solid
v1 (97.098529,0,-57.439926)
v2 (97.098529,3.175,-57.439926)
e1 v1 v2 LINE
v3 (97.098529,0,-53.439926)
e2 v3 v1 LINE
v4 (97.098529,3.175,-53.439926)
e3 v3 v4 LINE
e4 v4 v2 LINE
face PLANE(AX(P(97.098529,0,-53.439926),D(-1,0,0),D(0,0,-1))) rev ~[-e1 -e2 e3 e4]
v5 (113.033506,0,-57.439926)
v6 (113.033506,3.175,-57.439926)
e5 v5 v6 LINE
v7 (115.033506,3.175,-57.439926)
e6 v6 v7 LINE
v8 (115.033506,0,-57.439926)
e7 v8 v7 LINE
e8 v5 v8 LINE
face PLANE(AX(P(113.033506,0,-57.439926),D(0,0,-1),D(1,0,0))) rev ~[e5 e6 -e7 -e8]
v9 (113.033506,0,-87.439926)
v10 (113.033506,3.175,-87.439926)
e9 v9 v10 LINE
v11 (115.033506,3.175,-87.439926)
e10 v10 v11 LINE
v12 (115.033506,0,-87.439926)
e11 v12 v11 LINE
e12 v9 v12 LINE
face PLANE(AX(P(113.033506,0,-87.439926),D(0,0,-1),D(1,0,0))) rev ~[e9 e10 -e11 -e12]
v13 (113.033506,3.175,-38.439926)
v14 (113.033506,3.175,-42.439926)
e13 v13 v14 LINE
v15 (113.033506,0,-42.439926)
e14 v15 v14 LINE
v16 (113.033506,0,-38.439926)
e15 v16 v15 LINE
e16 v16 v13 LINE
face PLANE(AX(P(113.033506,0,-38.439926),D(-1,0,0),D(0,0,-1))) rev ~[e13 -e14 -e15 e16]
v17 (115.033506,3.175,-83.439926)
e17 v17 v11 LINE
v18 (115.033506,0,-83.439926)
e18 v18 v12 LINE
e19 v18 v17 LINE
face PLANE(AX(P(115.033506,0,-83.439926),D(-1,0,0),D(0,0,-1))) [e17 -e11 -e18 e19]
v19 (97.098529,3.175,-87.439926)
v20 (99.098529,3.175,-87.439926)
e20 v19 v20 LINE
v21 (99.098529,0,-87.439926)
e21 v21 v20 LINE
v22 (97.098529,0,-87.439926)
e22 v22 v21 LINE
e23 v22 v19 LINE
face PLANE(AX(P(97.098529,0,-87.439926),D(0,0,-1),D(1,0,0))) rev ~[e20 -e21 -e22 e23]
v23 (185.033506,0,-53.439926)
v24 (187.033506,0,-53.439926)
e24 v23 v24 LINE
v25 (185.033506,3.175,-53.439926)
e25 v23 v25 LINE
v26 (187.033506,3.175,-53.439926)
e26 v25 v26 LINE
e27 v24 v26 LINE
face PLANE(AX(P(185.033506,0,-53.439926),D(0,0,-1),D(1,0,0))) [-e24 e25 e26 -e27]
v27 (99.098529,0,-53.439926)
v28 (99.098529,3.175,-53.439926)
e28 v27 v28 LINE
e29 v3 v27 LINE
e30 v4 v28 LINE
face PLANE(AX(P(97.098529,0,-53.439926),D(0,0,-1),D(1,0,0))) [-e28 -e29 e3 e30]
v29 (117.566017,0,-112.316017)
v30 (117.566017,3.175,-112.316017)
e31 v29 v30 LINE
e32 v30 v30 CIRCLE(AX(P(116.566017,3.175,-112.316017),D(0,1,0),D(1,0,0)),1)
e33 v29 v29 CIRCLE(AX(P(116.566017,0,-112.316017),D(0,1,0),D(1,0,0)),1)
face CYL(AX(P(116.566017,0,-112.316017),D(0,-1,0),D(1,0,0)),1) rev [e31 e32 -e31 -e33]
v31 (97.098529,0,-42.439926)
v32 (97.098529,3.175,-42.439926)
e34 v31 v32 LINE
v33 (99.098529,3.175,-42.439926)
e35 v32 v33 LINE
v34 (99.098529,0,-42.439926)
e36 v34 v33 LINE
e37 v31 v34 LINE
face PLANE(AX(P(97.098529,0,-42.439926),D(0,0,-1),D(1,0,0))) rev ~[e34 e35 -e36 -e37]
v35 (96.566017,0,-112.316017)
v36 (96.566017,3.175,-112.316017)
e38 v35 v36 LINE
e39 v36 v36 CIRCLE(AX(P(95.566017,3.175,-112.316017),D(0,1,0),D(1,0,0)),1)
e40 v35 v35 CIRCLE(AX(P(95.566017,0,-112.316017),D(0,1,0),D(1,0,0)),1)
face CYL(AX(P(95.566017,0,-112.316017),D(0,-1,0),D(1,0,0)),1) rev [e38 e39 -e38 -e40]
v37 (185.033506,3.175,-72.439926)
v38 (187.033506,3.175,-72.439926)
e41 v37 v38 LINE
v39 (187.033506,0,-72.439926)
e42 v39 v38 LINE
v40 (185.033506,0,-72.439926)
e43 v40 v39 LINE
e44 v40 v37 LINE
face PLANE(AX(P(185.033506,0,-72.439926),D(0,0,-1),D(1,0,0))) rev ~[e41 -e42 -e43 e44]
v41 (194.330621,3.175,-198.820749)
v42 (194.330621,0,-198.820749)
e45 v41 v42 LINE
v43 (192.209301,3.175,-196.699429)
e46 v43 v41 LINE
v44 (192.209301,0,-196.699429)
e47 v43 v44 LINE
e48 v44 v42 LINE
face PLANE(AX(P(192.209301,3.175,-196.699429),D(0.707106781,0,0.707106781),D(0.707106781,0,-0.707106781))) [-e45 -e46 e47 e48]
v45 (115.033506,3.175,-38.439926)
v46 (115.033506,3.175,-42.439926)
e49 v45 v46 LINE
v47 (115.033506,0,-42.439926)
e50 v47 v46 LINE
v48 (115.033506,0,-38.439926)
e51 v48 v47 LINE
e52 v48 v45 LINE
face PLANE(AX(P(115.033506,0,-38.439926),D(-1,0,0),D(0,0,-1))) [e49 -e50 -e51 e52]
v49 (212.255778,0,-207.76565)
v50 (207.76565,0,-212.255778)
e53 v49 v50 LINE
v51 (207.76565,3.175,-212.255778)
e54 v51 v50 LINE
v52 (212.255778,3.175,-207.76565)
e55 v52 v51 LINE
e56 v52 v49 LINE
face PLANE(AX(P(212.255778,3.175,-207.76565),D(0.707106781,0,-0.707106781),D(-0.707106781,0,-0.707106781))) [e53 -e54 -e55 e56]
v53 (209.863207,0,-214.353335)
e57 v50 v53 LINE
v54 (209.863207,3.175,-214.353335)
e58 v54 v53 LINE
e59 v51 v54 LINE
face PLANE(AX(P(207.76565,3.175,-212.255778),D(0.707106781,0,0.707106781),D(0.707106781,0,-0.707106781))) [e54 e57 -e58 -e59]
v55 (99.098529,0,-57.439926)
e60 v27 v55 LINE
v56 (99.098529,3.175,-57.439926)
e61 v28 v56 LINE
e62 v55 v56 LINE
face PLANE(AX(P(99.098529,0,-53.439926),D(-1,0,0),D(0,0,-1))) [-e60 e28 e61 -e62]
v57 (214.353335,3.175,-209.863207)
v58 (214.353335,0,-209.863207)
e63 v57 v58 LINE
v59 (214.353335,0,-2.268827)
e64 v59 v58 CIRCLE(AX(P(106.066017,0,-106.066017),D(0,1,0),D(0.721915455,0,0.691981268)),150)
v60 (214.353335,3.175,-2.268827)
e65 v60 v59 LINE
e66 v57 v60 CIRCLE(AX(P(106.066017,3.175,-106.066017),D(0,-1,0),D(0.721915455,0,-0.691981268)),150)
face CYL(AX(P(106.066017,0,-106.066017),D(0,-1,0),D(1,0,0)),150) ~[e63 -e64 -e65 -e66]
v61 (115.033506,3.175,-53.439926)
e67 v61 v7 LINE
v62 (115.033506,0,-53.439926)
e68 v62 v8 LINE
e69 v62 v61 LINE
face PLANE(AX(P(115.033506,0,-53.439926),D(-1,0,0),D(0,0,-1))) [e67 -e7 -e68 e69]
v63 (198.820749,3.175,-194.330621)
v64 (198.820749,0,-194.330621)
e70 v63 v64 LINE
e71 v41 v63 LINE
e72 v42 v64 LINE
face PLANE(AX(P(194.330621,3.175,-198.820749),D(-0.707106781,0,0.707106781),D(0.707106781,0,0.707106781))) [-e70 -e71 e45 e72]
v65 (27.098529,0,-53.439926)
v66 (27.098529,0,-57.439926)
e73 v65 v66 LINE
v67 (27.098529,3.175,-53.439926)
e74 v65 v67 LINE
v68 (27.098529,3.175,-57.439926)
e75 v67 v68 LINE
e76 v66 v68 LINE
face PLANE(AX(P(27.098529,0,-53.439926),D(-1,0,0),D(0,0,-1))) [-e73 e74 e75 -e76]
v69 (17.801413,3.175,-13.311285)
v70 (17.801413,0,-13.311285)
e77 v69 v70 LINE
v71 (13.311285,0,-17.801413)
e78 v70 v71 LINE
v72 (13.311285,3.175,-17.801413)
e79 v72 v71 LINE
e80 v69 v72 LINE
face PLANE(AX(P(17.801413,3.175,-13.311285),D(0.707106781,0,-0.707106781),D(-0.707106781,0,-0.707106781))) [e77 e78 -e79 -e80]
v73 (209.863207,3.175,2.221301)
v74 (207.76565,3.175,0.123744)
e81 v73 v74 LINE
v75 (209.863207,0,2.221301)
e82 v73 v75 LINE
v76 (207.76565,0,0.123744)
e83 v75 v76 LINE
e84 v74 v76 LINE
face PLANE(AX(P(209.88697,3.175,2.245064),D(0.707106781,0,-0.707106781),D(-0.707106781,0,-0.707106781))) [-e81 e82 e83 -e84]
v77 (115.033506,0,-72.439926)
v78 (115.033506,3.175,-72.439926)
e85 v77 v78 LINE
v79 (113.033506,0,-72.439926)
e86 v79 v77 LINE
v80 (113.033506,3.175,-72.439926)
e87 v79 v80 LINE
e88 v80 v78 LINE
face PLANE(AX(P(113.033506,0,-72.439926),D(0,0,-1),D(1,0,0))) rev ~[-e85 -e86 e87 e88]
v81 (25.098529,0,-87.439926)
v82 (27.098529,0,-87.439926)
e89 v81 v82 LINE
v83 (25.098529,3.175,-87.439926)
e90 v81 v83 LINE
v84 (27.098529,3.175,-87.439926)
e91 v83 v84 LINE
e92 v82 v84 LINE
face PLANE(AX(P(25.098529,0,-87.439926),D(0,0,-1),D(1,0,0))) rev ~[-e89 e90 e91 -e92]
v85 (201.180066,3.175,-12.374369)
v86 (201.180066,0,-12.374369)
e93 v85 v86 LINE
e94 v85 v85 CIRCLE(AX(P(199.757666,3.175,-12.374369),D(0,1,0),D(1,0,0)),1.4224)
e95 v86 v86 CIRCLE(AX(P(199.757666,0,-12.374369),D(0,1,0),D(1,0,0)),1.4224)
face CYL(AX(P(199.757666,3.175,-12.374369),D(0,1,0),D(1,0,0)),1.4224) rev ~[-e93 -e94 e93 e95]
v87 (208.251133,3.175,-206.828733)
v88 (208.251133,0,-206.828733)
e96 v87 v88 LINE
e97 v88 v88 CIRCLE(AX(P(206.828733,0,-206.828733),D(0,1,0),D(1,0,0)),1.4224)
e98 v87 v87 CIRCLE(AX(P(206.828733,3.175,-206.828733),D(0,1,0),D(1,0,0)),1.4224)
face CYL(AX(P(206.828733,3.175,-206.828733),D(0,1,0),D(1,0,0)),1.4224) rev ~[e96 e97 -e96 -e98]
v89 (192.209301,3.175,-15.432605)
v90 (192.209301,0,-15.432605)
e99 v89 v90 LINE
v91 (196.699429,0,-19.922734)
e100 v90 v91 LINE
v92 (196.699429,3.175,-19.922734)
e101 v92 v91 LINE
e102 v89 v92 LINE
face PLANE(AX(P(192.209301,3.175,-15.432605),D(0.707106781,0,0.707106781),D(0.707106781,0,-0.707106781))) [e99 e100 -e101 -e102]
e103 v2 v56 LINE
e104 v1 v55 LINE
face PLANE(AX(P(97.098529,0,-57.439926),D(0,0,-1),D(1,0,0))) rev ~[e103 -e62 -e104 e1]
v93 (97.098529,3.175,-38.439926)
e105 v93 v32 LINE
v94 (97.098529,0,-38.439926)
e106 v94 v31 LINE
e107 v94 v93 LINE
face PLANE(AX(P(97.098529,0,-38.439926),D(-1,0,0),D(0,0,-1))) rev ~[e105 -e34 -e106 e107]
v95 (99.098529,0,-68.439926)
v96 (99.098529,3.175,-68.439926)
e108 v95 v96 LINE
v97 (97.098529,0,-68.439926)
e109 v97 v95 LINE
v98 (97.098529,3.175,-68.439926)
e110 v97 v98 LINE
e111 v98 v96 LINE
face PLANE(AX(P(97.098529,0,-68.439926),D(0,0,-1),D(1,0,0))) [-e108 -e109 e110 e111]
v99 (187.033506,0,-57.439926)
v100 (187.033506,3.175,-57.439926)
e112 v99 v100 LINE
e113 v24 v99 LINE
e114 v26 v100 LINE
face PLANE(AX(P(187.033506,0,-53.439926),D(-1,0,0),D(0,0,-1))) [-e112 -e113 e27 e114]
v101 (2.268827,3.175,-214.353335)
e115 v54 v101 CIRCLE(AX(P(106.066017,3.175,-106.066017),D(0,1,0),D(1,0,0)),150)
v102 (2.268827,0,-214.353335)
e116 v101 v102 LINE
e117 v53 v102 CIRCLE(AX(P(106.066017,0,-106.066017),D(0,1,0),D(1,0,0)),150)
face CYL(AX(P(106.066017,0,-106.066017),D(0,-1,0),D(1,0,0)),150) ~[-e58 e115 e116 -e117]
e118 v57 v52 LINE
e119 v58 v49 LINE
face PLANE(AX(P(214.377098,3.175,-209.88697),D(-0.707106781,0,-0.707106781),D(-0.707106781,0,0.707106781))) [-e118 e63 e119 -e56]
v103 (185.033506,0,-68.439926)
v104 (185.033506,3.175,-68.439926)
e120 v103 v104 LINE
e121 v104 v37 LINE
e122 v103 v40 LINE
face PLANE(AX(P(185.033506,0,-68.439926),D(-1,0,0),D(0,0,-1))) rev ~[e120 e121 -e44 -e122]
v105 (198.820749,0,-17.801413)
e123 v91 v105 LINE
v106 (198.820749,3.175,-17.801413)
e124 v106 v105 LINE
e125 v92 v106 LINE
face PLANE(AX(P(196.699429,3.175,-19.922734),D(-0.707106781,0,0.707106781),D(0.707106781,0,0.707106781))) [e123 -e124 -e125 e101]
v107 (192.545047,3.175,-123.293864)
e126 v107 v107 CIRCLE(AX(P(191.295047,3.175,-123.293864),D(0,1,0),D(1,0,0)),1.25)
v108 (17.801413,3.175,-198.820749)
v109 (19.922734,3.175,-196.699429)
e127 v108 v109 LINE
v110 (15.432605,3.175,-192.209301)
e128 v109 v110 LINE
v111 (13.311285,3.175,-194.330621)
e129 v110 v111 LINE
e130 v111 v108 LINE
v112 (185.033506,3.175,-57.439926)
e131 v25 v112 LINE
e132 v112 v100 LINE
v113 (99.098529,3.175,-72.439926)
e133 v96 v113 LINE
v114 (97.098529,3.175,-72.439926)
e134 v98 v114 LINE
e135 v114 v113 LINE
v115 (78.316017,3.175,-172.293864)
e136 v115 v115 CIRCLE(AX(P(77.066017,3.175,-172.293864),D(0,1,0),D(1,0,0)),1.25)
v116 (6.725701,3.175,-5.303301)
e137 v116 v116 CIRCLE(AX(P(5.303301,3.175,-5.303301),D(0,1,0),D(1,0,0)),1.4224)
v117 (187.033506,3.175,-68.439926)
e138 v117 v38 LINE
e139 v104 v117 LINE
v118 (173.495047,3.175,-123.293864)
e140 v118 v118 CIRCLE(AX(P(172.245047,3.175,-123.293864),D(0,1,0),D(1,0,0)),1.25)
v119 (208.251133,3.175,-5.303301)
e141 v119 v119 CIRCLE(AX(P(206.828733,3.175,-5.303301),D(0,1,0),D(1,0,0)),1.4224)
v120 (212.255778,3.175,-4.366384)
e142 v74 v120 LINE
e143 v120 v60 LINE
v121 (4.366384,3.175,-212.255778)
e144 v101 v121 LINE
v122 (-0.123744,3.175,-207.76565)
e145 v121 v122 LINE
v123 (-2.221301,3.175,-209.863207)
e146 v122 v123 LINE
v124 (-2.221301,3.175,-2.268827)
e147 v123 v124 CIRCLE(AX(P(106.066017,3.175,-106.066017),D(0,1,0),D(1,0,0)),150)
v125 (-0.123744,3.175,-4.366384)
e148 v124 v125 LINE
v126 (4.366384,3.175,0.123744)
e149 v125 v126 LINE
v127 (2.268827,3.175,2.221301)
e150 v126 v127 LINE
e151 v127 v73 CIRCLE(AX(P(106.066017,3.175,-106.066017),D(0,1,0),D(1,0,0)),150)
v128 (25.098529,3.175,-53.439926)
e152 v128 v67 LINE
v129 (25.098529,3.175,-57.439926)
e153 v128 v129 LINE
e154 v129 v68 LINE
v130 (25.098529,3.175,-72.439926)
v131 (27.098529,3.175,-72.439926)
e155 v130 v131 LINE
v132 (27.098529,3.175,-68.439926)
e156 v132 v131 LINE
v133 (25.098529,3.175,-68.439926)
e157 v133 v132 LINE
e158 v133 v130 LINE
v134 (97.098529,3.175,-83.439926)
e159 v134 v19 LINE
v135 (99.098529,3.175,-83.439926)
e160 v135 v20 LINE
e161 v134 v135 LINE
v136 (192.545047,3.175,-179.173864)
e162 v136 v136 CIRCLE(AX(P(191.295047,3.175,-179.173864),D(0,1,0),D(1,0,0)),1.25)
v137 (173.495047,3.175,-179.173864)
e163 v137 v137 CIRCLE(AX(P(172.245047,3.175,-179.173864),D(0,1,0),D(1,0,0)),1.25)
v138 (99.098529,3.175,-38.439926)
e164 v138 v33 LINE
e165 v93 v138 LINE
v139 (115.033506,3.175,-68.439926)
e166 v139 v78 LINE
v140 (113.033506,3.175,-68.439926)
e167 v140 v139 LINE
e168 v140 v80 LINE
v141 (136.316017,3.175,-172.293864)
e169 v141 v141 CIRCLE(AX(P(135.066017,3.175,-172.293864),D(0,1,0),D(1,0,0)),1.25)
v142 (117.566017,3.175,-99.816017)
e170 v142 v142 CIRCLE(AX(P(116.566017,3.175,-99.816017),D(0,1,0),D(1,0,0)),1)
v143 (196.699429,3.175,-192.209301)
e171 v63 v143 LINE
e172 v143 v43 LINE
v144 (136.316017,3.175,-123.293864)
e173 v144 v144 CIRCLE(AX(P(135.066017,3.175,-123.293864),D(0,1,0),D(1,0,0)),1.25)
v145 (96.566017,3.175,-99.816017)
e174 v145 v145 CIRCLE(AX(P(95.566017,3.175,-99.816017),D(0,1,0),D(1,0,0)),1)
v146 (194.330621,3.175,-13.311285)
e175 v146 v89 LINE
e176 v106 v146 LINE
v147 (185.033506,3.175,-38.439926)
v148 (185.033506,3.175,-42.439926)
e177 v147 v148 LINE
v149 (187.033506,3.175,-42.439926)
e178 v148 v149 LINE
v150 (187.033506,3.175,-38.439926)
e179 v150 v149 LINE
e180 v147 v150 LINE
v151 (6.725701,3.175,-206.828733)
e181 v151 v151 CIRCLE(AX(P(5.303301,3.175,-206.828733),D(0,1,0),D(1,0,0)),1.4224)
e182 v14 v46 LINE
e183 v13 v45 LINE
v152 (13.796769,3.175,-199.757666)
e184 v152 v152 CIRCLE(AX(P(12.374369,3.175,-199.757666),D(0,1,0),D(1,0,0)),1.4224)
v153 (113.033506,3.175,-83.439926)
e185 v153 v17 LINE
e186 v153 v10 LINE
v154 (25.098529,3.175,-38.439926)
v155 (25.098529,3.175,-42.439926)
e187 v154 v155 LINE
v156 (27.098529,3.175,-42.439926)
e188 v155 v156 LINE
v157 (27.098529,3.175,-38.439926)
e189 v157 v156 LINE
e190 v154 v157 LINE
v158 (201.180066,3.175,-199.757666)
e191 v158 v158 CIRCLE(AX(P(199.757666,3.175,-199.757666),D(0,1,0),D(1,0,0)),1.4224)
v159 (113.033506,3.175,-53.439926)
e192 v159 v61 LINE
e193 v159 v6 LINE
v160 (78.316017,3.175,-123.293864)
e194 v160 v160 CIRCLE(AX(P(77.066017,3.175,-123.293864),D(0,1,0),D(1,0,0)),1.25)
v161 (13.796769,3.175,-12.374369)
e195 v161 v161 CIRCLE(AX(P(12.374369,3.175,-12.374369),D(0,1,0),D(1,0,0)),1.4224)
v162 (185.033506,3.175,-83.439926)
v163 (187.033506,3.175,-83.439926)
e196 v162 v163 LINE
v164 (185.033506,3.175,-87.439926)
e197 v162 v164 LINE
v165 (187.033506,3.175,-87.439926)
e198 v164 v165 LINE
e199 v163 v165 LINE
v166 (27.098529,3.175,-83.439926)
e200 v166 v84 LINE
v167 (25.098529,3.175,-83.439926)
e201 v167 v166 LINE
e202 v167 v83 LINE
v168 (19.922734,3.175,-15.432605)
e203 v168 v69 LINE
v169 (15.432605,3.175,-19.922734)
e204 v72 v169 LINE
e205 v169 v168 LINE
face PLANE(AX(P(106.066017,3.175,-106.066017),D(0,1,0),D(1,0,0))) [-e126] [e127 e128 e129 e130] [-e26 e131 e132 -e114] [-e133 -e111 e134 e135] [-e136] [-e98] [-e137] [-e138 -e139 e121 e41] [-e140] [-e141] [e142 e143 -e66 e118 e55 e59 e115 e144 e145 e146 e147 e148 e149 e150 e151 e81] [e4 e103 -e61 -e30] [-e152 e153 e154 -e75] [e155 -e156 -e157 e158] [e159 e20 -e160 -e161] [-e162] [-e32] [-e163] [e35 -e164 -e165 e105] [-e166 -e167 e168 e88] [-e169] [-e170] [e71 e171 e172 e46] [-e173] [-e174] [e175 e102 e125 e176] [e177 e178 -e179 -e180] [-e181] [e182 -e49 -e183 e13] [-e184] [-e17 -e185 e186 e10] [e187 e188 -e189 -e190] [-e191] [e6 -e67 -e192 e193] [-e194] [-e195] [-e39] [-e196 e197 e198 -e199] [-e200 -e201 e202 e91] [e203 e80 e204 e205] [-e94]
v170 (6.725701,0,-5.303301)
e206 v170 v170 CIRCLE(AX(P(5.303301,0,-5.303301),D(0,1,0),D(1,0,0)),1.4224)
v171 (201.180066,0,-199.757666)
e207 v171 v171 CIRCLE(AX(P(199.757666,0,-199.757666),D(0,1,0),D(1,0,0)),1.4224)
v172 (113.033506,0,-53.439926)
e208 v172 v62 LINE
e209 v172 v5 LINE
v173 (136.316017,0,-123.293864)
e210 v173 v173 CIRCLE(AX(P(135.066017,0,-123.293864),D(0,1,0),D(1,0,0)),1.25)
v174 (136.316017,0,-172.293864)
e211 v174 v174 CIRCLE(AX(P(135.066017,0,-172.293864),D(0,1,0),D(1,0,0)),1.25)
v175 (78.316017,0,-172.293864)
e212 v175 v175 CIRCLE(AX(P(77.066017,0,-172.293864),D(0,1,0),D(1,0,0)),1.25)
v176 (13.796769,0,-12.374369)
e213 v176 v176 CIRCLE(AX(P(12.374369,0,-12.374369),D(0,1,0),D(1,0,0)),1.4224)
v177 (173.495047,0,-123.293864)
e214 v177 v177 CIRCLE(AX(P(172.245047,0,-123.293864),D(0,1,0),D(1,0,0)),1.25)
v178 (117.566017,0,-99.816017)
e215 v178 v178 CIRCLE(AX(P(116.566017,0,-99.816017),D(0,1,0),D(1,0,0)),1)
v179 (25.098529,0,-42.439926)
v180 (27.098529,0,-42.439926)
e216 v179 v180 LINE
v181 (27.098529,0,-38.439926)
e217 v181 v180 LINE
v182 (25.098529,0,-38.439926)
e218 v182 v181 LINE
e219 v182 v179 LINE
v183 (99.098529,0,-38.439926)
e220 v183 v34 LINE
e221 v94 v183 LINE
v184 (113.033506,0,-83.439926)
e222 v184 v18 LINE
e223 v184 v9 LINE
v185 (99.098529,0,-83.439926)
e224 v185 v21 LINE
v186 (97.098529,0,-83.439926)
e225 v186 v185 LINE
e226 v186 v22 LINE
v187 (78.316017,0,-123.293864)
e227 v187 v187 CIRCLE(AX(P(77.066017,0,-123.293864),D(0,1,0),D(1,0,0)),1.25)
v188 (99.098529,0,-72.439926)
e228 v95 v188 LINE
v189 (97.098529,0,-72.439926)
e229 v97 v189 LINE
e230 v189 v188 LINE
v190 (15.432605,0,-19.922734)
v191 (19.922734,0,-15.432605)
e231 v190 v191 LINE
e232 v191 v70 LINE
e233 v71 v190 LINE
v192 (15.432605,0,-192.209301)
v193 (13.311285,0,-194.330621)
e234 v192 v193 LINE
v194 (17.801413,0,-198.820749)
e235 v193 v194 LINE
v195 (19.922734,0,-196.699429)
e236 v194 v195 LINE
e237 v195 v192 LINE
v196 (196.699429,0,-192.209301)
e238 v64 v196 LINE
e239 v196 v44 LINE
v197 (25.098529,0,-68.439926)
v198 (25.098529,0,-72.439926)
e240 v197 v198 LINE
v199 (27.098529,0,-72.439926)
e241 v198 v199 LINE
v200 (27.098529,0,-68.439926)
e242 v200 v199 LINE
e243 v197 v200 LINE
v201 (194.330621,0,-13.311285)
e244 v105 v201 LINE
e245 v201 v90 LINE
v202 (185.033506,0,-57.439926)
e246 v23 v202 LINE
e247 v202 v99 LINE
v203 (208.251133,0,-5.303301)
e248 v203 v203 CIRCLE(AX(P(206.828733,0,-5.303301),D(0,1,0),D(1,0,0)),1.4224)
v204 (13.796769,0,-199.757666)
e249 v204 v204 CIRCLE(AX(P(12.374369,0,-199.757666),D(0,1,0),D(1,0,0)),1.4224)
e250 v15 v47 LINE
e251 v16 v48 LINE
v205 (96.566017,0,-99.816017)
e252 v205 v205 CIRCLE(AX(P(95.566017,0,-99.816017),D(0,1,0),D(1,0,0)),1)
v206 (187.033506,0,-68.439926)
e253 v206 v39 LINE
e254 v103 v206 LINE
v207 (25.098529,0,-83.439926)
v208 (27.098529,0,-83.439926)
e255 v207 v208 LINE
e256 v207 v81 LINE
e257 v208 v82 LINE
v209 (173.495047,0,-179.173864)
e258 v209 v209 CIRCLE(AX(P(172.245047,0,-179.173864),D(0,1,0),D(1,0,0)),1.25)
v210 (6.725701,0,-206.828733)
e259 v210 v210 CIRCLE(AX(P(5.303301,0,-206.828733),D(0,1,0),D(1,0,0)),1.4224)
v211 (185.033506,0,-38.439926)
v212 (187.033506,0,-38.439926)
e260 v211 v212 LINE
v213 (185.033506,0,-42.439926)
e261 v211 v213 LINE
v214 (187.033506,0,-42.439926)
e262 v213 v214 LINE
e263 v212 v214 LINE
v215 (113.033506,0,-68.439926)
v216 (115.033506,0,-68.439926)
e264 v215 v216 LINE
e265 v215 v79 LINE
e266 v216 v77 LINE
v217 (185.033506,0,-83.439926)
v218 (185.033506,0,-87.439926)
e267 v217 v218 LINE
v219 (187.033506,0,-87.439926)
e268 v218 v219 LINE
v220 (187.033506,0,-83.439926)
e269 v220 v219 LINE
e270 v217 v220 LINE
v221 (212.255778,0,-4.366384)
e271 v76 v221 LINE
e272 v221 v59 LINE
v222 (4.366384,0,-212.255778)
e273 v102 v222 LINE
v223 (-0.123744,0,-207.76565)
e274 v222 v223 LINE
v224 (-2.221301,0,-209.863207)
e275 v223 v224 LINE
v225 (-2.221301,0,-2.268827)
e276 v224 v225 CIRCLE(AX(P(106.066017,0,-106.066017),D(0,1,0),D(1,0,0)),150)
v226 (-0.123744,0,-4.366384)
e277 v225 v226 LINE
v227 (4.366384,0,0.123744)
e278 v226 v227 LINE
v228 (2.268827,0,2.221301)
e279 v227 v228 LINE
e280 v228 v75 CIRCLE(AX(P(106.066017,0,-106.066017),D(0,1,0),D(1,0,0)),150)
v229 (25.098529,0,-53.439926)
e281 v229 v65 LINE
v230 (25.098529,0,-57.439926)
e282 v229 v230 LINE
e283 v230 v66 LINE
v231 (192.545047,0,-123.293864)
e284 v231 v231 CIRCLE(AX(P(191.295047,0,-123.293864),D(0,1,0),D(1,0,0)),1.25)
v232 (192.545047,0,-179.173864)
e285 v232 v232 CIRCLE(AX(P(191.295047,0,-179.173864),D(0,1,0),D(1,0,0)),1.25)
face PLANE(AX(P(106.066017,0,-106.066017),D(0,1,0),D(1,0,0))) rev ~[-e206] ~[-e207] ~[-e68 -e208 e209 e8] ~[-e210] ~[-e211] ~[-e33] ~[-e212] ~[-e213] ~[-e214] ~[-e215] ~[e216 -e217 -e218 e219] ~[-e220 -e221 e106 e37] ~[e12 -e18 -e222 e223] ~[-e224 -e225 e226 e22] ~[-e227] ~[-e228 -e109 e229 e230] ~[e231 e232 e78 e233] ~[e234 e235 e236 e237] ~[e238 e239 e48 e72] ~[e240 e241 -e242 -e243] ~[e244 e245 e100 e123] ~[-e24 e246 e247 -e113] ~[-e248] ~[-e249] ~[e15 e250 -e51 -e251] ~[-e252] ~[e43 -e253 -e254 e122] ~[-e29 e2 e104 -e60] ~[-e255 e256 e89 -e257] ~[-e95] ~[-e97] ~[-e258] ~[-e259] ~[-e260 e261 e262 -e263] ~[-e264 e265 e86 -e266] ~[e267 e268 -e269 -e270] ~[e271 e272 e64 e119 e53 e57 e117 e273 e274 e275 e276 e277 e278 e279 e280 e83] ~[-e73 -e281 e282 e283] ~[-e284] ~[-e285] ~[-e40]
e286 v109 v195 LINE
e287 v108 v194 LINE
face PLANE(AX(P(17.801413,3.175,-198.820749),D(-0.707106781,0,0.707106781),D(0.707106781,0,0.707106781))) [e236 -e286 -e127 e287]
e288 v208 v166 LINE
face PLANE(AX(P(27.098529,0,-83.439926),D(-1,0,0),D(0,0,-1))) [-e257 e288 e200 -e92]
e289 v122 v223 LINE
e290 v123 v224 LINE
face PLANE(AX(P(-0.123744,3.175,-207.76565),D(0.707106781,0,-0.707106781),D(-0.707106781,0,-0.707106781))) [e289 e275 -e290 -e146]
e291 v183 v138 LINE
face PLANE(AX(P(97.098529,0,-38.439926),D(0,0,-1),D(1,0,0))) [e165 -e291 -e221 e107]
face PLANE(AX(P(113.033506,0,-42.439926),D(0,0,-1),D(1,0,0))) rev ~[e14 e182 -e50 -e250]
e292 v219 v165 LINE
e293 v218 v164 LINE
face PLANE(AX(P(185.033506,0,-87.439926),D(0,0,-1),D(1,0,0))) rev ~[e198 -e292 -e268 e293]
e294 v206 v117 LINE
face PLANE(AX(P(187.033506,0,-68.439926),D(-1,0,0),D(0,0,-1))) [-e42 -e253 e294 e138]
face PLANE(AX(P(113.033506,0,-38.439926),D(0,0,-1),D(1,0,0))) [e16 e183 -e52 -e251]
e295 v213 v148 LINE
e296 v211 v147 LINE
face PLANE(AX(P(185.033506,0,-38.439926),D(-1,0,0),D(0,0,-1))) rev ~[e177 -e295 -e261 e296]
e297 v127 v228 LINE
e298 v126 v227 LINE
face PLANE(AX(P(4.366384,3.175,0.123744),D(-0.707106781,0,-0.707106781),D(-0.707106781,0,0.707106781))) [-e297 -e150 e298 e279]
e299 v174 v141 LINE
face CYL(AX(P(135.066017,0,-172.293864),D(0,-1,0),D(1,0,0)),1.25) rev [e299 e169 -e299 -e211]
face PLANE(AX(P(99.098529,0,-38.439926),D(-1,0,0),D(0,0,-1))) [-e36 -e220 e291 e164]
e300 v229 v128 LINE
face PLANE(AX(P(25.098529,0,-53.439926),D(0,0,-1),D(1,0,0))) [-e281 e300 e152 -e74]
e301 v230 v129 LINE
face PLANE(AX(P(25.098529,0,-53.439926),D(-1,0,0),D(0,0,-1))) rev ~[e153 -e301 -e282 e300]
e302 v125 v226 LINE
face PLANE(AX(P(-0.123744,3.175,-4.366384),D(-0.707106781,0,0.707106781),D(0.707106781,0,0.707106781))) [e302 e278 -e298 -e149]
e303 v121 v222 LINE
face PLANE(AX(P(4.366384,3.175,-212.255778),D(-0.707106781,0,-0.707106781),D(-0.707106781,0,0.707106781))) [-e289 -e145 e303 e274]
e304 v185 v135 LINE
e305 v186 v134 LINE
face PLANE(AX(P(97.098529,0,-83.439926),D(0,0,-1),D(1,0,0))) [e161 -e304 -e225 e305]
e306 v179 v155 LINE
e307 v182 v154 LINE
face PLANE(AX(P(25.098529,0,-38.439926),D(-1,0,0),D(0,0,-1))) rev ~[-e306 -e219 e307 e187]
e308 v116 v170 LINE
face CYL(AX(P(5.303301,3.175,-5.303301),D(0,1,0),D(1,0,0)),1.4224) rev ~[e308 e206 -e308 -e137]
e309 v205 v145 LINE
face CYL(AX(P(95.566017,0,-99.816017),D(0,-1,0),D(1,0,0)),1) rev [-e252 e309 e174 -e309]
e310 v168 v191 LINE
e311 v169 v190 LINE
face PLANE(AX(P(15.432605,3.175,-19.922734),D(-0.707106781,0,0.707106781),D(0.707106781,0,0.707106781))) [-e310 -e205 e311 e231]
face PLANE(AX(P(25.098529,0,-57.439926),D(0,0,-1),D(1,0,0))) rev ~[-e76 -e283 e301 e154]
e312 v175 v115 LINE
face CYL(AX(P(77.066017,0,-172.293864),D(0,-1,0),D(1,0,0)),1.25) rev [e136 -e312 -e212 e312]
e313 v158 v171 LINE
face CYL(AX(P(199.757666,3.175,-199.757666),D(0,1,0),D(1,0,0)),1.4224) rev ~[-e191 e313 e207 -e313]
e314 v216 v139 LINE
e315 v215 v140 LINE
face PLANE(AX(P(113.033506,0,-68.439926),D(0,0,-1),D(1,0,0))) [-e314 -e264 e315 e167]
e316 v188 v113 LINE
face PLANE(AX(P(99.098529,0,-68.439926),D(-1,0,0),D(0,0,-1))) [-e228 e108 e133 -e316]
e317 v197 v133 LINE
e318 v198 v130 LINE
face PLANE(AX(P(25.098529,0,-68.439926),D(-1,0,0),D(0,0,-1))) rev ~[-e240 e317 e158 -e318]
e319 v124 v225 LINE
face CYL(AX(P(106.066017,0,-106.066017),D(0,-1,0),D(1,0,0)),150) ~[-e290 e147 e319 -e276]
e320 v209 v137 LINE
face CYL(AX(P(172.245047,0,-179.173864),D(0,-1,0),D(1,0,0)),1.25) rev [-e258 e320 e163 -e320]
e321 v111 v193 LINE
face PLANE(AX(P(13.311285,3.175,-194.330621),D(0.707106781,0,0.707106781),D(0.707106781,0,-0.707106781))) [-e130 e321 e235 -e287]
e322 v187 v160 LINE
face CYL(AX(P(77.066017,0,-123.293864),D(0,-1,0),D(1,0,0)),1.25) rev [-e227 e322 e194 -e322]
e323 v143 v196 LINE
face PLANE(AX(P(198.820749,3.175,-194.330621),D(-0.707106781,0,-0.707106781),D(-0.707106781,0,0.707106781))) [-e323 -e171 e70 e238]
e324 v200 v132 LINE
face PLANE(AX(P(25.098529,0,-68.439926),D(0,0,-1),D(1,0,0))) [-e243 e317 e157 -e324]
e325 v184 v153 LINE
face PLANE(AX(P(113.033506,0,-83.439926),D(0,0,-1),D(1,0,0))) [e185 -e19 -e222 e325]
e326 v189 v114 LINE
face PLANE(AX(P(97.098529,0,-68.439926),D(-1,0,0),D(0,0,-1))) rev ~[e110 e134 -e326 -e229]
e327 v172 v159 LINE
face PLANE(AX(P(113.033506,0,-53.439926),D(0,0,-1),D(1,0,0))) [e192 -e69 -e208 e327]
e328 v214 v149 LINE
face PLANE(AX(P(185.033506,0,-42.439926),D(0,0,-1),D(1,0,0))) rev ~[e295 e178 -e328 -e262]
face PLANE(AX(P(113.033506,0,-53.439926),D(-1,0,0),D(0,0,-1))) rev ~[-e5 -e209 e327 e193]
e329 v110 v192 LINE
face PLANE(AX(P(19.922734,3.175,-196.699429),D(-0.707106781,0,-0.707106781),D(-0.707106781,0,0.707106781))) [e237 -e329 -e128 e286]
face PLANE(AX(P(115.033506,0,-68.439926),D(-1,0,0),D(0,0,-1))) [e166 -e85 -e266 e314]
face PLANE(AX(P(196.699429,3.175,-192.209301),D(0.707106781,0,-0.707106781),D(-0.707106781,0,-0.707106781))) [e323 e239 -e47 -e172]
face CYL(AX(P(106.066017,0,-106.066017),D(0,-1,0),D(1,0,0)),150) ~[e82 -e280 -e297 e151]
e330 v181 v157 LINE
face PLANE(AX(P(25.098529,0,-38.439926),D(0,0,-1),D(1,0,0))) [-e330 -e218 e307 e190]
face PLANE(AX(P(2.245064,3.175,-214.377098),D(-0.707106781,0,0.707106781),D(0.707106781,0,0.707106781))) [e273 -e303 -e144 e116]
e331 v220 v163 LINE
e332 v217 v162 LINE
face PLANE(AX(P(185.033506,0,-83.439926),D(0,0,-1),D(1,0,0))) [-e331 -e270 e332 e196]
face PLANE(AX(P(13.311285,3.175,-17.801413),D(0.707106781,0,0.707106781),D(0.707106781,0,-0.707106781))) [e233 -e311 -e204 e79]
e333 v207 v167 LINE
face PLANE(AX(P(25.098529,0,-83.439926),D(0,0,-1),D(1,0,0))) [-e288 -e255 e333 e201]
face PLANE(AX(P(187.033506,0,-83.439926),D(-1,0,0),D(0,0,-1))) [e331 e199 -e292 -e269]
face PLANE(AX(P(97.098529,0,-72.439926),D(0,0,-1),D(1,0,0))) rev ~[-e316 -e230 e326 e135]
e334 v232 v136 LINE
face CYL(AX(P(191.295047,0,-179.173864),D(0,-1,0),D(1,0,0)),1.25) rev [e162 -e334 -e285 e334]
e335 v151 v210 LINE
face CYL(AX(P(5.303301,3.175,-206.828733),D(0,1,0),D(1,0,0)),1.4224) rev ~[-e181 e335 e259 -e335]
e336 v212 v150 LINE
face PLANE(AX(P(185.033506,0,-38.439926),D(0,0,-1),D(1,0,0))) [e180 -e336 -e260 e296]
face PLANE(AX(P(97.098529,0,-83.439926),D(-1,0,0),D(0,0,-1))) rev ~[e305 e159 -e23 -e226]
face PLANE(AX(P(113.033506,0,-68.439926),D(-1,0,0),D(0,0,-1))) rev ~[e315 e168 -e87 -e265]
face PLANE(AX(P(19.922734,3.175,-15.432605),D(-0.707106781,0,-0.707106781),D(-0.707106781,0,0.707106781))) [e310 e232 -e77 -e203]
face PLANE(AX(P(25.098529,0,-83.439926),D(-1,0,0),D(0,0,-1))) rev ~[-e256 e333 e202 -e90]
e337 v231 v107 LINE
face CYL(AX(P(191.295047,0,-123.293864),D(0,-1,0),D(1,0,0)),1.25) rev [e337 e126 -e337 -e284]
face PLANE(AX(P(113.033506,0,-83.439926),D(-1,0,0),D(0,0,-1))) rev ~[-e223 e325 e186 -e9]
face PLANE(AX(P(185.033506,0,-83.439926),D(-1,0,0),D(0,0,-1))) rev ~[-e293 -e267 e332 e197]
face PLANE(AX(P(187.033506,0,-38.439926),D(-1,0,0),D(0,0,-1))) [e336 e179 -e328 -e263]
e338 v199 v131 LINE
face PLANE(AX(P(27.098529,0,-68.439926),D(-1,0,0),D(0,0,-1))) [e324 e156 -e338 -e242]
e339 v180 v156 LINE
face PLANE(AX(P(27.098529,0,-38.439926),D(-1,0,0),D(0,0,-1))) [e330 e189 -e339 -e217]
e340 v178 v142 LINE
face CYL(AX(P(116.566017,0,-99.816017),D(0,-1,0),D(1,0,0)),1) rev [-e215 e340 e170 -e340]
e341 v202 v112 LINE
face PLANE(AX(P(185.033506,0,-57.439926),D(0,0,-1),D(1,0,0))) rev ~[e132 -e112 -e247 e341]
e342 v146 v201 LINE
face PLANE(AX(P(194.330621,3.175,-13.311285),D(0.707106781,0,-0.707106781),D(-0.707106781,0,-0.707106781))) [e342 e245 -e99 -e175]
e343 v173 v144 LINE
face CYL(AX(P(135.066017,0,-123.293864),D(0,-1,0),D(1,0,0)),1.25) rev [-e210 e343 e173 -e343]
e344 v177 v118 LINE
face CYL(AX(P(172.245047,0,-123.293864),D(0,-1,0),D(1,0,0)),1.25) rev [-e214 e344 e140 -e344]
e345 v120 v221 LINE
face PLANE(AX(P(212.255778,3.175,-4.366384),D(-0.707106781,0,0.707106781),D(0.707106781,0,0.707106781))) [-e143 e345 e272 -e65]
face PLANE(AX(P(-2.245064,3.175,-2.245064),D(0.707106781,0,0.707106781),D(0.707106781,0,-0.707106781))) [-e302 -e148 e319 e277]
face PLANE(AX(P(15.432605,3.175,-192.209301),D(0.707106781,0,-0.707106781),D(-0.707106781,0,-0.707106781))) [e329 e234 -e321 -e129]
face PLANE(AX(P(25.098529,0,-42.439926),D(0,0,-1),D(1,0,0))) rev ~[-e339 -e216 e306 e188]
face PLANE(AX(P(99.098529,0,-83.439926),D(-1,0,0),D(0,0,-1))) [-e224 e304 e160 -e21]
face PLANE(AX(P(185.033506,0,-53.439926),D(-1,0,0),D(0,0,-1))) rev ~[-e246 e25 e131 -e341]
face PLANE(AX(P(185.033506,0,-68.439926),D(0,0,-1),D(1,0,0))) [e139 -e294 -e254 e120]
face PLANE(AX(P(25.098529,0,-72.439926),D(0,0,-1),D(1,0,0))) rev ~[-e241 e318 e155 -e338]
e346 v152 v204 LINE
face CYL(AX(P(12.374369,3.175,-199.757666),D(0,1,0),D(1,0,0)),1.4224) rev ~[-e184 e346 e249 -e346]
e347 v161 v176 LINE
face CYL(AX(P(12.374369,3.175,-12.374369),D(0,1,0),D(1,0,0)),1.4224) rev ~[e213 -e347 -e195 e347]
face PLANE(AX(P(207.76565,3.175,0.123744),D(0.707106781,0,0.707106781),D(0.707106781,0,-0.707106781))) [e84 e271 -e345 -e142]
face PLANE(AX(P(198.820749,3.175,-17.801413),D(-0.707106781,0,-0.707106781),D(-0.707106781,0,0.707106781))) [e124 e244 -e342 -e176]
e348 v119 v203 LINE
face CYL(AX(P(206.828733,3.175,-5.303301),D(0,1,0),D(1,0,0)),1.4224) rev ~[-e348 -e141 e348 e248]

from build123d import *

# Parameters (mm, degrees)
SKETCH1_R           = 150
SKETCH1_R_2         = 1.25
SKETCH1_R_3         = 1
SKETCH1_W           = 2
SKETCH1_H           = 4
BOSS_EXTRUDE1_DEPTH = 3.175
SKETCH2_R           = 1.4224
CUT_EXTRUDE1_DEPTH  = 10


with BuildPart() as part:
    # Sketch1 → Boss-Extrude1 (new body)
    with BuildSketch(Plane(origin=(0, 0, 0), x_dir=(1, 0, 0), z_dir=(0, 1, 0))):
        with Locations((106.066017178, 106.066017178)):
            Circle(SKETCH1_R)
        with Locations((77.066017178, 172.293864025)):
            Circle(SKETCH1_R_2, mode=Mode.SUBTRACT)
        with Locations((135.066017178, 172.293864025)):
            Circle(SKETCH1_R_2, mode=Mode.SUBTRACT)
        with Locations((77.066017178, 123.293864025)):
            Circle(SKETCH1_R_2, mode=Mode.SUBTRACT)
        with Locations((135.066017178, 123.293864025)):
            Circle(SKETCH1_R_2, mode=Mode.SUBTRACT)
        with Locations((95.566017178, 112.316017178)):
            Circle(SKETCH1_R_3, mode=Mode.SUBTRACT)
        with Locations((116.566017178, 112.316017178)):
            Circle(SKETCH1_R_3, mode=Mode.SUBTRACT)
        with Locations((116.566017178, 99.816017178)):
            Circle(SKETCH1_R_3, mode=Mode.SUBTRACT)
        with Locations((95.566017178, 99.816017178)):
            Circle(SKETCH1_R_3, mode=Mode.SUBTRACT)
        with Locations((172.245046965, 123.293864025)):
            Circle(SKETCH1_R_2, mode=Mode.SUBTRACT)
        with Locations((172.245046965, 179.173864025)):
            Circle(SKETCH1_R_2, mode=Mode.SUBTRACT)
        with Locations((191.295046965, 123.293864025)):
            Circle(SKETCH1_R_2, mode=Mode.SUBTRACT)
        with Locations((191.295046965, 179.173864025)):
            Circle(SKETCH1_R_2, mode=Mode.SUBTRACT)
        with Locations((98.098528615, 85.439926251)):
            Rectangle(SKETCH1_W, SKETCH1_H, mode=Mode.SUBTRACT)
        with Locations((26.098528615, 85.439926251)):
            Rectangle(SKETCH1_W, SKETCH1_H, mode=Mode.SUBTRACT)
        with Locations((98.098528615, 70.439926251)):
            Rectangle(SKETCH1_W, SKETCH1_H, mode=Mode.SUBTRACT)
        with Locations((98.098528615, 55.439926251)):
            Rectangle(SKETCH1_W, SKETCH1_H, mode=Mode.SUBTRACT)
        with Locations((98.098528615, 40.439926251)):
            Rectangle(SKETCH1_W, SKETCH1_H, mode=Mode.SUBTRACT)
        with Locations((26.098528615, 70.439926251)):
            Rectangle(SKETCH1_W, SKETCH1_H, mode=Mode.SUBTRACT)
        with Locations((26.098528615, 55.439926251)):
            Rectangle(SKETCH1_W, SKETCH1_H, mode=Mode.SUBTRACT)
        with Locations((26.098528615, 40.439926251)):
            Rectangle(SKETCH1_W, SKETCH1_H, mode=Mode.SUBTRACT)
        with Locations((114.033505741, 85.439926251)):
            Rectangle(SKETCH1_W, SKETCH1_H, mode=Mode.SUBTRACT)
        with Locations((114.033505741, 70.439926251)):
            Rectangle(SKETCH1_W, SKETCH1_H, mode=Mode.SUBTRACT)
        with Locations((114.033505741, 55.439926251)):
            Rectangle(SKETCH1_W, SKETCH1_H, mode=Mode.SUBTRACT)
        with Locations((114.033505741, 40.439926251)):
            Rectangle(SKETCH1_W, SKETCH1_H, mode=Mode.SUBTRACT)
        with Locations((186.033505741, 40.439926251)):
            Rectangle(SKETCH1_W, SKETCH1_H, mode=Mode.SUBTRACT)
        with Locations((186.033505741, 55.439926251)):
            Rectangle(SKETCH1_W, SKETCH1_H, mode=Mode.SUBTRACT)
        with Locations((186.033505741, 70.439926251)):
            Rectangle(SKETCH1_W, SKETCH1_H, mode=Mode.SUBTRACT)
        with Locations((186.033505741, 85.439926251)):
            Rectangle(SKETCH1_W, SKETCH1_H, mode=Mode.SUBTRACT)
    extrude(amount=BOSS_EXTRUDE1_DEPTH)

    # Sketch2 → Cut-Extrude1 (cut)
    with BuildSketch(Plane(origin=(0, 3.175, 0), x_dir=(1, 0, 0), z_dir=(0, 1, 0))):
        with Locations((5.303300859, 206.828733497)):
            Circle(SKETCH2_R)
        with Locations((12.374368671, 199.757665685)):
            Circle(SKETCH2_R)
        with Locations((206.828733497, 206.828733497)):
            Circle(SKETCH2_R)
        with Locations((199.757665685, 199.757665685)):
            Circle(SKETCH2_R)
        with Locations((206.828733497, 5.303300859)):
            Circle(SKETCH2_R)
        with Locations((199.757665685, 12.374368671)):
            Circle(SKETCH2_R)
        with Locations((5.303300859, 5.303300859)):
            Circle(SKETCH2_R)
        with Locations((12.374368671, 12.374368671)):
            Circle(SKETCH2_R)
        Polygon((15.432605499, 192.209300796), (13.311285156, 194.33062114), (17.801413216, 198.8207492), (19.92273356, 196.699428857), align=None)
        Polygon((-0.123743687, 207.765649982), (-2.24506403, 209.886970326), (2.24506403, 214.377098386), (4.366384374, 212.255778043), align=None)
        Polygon((192.209300796, 196.699428857), (194.33062114, 198.8207492), (198.8207492, 194.33062114), (196.699428857, 192.209300796), align=None)
        Polygon((207.765649982, 212.255778043), (209.886970326, 214.377098386), (214.377098386, 209.886970326), (212.255778043, 207.765649982), align=None)
        Polygon((196.699428857, 19.92273356), (198.8207492, 17.801413216), (194.33062114, 13.311285156), (192.209300796, 15.432605499), align=None)
        Polygon((212.255778043, 4.366384374), (214.377098386, 2.24506403), (209.886970326, -2.24506403), (207.765649982, -0.123743687), align=None)
        Polygon((19.92273356, 15.432605499), (17.801413216, 13.311285156), (13.311285156, 17.801413216), (15.432605499, 19.92273356), align=None)
        Polygon((4.366384374, -0.123743687), (2.24506403, -2.24506403), (-2.24506403, 2.24506403), (-0.123743687, 4.366384374), align=None)
    extrude(amount=-CUT_EXTRUDE1_DEPTH, mode=Mode.SUBTRACT)


solid = part.part
